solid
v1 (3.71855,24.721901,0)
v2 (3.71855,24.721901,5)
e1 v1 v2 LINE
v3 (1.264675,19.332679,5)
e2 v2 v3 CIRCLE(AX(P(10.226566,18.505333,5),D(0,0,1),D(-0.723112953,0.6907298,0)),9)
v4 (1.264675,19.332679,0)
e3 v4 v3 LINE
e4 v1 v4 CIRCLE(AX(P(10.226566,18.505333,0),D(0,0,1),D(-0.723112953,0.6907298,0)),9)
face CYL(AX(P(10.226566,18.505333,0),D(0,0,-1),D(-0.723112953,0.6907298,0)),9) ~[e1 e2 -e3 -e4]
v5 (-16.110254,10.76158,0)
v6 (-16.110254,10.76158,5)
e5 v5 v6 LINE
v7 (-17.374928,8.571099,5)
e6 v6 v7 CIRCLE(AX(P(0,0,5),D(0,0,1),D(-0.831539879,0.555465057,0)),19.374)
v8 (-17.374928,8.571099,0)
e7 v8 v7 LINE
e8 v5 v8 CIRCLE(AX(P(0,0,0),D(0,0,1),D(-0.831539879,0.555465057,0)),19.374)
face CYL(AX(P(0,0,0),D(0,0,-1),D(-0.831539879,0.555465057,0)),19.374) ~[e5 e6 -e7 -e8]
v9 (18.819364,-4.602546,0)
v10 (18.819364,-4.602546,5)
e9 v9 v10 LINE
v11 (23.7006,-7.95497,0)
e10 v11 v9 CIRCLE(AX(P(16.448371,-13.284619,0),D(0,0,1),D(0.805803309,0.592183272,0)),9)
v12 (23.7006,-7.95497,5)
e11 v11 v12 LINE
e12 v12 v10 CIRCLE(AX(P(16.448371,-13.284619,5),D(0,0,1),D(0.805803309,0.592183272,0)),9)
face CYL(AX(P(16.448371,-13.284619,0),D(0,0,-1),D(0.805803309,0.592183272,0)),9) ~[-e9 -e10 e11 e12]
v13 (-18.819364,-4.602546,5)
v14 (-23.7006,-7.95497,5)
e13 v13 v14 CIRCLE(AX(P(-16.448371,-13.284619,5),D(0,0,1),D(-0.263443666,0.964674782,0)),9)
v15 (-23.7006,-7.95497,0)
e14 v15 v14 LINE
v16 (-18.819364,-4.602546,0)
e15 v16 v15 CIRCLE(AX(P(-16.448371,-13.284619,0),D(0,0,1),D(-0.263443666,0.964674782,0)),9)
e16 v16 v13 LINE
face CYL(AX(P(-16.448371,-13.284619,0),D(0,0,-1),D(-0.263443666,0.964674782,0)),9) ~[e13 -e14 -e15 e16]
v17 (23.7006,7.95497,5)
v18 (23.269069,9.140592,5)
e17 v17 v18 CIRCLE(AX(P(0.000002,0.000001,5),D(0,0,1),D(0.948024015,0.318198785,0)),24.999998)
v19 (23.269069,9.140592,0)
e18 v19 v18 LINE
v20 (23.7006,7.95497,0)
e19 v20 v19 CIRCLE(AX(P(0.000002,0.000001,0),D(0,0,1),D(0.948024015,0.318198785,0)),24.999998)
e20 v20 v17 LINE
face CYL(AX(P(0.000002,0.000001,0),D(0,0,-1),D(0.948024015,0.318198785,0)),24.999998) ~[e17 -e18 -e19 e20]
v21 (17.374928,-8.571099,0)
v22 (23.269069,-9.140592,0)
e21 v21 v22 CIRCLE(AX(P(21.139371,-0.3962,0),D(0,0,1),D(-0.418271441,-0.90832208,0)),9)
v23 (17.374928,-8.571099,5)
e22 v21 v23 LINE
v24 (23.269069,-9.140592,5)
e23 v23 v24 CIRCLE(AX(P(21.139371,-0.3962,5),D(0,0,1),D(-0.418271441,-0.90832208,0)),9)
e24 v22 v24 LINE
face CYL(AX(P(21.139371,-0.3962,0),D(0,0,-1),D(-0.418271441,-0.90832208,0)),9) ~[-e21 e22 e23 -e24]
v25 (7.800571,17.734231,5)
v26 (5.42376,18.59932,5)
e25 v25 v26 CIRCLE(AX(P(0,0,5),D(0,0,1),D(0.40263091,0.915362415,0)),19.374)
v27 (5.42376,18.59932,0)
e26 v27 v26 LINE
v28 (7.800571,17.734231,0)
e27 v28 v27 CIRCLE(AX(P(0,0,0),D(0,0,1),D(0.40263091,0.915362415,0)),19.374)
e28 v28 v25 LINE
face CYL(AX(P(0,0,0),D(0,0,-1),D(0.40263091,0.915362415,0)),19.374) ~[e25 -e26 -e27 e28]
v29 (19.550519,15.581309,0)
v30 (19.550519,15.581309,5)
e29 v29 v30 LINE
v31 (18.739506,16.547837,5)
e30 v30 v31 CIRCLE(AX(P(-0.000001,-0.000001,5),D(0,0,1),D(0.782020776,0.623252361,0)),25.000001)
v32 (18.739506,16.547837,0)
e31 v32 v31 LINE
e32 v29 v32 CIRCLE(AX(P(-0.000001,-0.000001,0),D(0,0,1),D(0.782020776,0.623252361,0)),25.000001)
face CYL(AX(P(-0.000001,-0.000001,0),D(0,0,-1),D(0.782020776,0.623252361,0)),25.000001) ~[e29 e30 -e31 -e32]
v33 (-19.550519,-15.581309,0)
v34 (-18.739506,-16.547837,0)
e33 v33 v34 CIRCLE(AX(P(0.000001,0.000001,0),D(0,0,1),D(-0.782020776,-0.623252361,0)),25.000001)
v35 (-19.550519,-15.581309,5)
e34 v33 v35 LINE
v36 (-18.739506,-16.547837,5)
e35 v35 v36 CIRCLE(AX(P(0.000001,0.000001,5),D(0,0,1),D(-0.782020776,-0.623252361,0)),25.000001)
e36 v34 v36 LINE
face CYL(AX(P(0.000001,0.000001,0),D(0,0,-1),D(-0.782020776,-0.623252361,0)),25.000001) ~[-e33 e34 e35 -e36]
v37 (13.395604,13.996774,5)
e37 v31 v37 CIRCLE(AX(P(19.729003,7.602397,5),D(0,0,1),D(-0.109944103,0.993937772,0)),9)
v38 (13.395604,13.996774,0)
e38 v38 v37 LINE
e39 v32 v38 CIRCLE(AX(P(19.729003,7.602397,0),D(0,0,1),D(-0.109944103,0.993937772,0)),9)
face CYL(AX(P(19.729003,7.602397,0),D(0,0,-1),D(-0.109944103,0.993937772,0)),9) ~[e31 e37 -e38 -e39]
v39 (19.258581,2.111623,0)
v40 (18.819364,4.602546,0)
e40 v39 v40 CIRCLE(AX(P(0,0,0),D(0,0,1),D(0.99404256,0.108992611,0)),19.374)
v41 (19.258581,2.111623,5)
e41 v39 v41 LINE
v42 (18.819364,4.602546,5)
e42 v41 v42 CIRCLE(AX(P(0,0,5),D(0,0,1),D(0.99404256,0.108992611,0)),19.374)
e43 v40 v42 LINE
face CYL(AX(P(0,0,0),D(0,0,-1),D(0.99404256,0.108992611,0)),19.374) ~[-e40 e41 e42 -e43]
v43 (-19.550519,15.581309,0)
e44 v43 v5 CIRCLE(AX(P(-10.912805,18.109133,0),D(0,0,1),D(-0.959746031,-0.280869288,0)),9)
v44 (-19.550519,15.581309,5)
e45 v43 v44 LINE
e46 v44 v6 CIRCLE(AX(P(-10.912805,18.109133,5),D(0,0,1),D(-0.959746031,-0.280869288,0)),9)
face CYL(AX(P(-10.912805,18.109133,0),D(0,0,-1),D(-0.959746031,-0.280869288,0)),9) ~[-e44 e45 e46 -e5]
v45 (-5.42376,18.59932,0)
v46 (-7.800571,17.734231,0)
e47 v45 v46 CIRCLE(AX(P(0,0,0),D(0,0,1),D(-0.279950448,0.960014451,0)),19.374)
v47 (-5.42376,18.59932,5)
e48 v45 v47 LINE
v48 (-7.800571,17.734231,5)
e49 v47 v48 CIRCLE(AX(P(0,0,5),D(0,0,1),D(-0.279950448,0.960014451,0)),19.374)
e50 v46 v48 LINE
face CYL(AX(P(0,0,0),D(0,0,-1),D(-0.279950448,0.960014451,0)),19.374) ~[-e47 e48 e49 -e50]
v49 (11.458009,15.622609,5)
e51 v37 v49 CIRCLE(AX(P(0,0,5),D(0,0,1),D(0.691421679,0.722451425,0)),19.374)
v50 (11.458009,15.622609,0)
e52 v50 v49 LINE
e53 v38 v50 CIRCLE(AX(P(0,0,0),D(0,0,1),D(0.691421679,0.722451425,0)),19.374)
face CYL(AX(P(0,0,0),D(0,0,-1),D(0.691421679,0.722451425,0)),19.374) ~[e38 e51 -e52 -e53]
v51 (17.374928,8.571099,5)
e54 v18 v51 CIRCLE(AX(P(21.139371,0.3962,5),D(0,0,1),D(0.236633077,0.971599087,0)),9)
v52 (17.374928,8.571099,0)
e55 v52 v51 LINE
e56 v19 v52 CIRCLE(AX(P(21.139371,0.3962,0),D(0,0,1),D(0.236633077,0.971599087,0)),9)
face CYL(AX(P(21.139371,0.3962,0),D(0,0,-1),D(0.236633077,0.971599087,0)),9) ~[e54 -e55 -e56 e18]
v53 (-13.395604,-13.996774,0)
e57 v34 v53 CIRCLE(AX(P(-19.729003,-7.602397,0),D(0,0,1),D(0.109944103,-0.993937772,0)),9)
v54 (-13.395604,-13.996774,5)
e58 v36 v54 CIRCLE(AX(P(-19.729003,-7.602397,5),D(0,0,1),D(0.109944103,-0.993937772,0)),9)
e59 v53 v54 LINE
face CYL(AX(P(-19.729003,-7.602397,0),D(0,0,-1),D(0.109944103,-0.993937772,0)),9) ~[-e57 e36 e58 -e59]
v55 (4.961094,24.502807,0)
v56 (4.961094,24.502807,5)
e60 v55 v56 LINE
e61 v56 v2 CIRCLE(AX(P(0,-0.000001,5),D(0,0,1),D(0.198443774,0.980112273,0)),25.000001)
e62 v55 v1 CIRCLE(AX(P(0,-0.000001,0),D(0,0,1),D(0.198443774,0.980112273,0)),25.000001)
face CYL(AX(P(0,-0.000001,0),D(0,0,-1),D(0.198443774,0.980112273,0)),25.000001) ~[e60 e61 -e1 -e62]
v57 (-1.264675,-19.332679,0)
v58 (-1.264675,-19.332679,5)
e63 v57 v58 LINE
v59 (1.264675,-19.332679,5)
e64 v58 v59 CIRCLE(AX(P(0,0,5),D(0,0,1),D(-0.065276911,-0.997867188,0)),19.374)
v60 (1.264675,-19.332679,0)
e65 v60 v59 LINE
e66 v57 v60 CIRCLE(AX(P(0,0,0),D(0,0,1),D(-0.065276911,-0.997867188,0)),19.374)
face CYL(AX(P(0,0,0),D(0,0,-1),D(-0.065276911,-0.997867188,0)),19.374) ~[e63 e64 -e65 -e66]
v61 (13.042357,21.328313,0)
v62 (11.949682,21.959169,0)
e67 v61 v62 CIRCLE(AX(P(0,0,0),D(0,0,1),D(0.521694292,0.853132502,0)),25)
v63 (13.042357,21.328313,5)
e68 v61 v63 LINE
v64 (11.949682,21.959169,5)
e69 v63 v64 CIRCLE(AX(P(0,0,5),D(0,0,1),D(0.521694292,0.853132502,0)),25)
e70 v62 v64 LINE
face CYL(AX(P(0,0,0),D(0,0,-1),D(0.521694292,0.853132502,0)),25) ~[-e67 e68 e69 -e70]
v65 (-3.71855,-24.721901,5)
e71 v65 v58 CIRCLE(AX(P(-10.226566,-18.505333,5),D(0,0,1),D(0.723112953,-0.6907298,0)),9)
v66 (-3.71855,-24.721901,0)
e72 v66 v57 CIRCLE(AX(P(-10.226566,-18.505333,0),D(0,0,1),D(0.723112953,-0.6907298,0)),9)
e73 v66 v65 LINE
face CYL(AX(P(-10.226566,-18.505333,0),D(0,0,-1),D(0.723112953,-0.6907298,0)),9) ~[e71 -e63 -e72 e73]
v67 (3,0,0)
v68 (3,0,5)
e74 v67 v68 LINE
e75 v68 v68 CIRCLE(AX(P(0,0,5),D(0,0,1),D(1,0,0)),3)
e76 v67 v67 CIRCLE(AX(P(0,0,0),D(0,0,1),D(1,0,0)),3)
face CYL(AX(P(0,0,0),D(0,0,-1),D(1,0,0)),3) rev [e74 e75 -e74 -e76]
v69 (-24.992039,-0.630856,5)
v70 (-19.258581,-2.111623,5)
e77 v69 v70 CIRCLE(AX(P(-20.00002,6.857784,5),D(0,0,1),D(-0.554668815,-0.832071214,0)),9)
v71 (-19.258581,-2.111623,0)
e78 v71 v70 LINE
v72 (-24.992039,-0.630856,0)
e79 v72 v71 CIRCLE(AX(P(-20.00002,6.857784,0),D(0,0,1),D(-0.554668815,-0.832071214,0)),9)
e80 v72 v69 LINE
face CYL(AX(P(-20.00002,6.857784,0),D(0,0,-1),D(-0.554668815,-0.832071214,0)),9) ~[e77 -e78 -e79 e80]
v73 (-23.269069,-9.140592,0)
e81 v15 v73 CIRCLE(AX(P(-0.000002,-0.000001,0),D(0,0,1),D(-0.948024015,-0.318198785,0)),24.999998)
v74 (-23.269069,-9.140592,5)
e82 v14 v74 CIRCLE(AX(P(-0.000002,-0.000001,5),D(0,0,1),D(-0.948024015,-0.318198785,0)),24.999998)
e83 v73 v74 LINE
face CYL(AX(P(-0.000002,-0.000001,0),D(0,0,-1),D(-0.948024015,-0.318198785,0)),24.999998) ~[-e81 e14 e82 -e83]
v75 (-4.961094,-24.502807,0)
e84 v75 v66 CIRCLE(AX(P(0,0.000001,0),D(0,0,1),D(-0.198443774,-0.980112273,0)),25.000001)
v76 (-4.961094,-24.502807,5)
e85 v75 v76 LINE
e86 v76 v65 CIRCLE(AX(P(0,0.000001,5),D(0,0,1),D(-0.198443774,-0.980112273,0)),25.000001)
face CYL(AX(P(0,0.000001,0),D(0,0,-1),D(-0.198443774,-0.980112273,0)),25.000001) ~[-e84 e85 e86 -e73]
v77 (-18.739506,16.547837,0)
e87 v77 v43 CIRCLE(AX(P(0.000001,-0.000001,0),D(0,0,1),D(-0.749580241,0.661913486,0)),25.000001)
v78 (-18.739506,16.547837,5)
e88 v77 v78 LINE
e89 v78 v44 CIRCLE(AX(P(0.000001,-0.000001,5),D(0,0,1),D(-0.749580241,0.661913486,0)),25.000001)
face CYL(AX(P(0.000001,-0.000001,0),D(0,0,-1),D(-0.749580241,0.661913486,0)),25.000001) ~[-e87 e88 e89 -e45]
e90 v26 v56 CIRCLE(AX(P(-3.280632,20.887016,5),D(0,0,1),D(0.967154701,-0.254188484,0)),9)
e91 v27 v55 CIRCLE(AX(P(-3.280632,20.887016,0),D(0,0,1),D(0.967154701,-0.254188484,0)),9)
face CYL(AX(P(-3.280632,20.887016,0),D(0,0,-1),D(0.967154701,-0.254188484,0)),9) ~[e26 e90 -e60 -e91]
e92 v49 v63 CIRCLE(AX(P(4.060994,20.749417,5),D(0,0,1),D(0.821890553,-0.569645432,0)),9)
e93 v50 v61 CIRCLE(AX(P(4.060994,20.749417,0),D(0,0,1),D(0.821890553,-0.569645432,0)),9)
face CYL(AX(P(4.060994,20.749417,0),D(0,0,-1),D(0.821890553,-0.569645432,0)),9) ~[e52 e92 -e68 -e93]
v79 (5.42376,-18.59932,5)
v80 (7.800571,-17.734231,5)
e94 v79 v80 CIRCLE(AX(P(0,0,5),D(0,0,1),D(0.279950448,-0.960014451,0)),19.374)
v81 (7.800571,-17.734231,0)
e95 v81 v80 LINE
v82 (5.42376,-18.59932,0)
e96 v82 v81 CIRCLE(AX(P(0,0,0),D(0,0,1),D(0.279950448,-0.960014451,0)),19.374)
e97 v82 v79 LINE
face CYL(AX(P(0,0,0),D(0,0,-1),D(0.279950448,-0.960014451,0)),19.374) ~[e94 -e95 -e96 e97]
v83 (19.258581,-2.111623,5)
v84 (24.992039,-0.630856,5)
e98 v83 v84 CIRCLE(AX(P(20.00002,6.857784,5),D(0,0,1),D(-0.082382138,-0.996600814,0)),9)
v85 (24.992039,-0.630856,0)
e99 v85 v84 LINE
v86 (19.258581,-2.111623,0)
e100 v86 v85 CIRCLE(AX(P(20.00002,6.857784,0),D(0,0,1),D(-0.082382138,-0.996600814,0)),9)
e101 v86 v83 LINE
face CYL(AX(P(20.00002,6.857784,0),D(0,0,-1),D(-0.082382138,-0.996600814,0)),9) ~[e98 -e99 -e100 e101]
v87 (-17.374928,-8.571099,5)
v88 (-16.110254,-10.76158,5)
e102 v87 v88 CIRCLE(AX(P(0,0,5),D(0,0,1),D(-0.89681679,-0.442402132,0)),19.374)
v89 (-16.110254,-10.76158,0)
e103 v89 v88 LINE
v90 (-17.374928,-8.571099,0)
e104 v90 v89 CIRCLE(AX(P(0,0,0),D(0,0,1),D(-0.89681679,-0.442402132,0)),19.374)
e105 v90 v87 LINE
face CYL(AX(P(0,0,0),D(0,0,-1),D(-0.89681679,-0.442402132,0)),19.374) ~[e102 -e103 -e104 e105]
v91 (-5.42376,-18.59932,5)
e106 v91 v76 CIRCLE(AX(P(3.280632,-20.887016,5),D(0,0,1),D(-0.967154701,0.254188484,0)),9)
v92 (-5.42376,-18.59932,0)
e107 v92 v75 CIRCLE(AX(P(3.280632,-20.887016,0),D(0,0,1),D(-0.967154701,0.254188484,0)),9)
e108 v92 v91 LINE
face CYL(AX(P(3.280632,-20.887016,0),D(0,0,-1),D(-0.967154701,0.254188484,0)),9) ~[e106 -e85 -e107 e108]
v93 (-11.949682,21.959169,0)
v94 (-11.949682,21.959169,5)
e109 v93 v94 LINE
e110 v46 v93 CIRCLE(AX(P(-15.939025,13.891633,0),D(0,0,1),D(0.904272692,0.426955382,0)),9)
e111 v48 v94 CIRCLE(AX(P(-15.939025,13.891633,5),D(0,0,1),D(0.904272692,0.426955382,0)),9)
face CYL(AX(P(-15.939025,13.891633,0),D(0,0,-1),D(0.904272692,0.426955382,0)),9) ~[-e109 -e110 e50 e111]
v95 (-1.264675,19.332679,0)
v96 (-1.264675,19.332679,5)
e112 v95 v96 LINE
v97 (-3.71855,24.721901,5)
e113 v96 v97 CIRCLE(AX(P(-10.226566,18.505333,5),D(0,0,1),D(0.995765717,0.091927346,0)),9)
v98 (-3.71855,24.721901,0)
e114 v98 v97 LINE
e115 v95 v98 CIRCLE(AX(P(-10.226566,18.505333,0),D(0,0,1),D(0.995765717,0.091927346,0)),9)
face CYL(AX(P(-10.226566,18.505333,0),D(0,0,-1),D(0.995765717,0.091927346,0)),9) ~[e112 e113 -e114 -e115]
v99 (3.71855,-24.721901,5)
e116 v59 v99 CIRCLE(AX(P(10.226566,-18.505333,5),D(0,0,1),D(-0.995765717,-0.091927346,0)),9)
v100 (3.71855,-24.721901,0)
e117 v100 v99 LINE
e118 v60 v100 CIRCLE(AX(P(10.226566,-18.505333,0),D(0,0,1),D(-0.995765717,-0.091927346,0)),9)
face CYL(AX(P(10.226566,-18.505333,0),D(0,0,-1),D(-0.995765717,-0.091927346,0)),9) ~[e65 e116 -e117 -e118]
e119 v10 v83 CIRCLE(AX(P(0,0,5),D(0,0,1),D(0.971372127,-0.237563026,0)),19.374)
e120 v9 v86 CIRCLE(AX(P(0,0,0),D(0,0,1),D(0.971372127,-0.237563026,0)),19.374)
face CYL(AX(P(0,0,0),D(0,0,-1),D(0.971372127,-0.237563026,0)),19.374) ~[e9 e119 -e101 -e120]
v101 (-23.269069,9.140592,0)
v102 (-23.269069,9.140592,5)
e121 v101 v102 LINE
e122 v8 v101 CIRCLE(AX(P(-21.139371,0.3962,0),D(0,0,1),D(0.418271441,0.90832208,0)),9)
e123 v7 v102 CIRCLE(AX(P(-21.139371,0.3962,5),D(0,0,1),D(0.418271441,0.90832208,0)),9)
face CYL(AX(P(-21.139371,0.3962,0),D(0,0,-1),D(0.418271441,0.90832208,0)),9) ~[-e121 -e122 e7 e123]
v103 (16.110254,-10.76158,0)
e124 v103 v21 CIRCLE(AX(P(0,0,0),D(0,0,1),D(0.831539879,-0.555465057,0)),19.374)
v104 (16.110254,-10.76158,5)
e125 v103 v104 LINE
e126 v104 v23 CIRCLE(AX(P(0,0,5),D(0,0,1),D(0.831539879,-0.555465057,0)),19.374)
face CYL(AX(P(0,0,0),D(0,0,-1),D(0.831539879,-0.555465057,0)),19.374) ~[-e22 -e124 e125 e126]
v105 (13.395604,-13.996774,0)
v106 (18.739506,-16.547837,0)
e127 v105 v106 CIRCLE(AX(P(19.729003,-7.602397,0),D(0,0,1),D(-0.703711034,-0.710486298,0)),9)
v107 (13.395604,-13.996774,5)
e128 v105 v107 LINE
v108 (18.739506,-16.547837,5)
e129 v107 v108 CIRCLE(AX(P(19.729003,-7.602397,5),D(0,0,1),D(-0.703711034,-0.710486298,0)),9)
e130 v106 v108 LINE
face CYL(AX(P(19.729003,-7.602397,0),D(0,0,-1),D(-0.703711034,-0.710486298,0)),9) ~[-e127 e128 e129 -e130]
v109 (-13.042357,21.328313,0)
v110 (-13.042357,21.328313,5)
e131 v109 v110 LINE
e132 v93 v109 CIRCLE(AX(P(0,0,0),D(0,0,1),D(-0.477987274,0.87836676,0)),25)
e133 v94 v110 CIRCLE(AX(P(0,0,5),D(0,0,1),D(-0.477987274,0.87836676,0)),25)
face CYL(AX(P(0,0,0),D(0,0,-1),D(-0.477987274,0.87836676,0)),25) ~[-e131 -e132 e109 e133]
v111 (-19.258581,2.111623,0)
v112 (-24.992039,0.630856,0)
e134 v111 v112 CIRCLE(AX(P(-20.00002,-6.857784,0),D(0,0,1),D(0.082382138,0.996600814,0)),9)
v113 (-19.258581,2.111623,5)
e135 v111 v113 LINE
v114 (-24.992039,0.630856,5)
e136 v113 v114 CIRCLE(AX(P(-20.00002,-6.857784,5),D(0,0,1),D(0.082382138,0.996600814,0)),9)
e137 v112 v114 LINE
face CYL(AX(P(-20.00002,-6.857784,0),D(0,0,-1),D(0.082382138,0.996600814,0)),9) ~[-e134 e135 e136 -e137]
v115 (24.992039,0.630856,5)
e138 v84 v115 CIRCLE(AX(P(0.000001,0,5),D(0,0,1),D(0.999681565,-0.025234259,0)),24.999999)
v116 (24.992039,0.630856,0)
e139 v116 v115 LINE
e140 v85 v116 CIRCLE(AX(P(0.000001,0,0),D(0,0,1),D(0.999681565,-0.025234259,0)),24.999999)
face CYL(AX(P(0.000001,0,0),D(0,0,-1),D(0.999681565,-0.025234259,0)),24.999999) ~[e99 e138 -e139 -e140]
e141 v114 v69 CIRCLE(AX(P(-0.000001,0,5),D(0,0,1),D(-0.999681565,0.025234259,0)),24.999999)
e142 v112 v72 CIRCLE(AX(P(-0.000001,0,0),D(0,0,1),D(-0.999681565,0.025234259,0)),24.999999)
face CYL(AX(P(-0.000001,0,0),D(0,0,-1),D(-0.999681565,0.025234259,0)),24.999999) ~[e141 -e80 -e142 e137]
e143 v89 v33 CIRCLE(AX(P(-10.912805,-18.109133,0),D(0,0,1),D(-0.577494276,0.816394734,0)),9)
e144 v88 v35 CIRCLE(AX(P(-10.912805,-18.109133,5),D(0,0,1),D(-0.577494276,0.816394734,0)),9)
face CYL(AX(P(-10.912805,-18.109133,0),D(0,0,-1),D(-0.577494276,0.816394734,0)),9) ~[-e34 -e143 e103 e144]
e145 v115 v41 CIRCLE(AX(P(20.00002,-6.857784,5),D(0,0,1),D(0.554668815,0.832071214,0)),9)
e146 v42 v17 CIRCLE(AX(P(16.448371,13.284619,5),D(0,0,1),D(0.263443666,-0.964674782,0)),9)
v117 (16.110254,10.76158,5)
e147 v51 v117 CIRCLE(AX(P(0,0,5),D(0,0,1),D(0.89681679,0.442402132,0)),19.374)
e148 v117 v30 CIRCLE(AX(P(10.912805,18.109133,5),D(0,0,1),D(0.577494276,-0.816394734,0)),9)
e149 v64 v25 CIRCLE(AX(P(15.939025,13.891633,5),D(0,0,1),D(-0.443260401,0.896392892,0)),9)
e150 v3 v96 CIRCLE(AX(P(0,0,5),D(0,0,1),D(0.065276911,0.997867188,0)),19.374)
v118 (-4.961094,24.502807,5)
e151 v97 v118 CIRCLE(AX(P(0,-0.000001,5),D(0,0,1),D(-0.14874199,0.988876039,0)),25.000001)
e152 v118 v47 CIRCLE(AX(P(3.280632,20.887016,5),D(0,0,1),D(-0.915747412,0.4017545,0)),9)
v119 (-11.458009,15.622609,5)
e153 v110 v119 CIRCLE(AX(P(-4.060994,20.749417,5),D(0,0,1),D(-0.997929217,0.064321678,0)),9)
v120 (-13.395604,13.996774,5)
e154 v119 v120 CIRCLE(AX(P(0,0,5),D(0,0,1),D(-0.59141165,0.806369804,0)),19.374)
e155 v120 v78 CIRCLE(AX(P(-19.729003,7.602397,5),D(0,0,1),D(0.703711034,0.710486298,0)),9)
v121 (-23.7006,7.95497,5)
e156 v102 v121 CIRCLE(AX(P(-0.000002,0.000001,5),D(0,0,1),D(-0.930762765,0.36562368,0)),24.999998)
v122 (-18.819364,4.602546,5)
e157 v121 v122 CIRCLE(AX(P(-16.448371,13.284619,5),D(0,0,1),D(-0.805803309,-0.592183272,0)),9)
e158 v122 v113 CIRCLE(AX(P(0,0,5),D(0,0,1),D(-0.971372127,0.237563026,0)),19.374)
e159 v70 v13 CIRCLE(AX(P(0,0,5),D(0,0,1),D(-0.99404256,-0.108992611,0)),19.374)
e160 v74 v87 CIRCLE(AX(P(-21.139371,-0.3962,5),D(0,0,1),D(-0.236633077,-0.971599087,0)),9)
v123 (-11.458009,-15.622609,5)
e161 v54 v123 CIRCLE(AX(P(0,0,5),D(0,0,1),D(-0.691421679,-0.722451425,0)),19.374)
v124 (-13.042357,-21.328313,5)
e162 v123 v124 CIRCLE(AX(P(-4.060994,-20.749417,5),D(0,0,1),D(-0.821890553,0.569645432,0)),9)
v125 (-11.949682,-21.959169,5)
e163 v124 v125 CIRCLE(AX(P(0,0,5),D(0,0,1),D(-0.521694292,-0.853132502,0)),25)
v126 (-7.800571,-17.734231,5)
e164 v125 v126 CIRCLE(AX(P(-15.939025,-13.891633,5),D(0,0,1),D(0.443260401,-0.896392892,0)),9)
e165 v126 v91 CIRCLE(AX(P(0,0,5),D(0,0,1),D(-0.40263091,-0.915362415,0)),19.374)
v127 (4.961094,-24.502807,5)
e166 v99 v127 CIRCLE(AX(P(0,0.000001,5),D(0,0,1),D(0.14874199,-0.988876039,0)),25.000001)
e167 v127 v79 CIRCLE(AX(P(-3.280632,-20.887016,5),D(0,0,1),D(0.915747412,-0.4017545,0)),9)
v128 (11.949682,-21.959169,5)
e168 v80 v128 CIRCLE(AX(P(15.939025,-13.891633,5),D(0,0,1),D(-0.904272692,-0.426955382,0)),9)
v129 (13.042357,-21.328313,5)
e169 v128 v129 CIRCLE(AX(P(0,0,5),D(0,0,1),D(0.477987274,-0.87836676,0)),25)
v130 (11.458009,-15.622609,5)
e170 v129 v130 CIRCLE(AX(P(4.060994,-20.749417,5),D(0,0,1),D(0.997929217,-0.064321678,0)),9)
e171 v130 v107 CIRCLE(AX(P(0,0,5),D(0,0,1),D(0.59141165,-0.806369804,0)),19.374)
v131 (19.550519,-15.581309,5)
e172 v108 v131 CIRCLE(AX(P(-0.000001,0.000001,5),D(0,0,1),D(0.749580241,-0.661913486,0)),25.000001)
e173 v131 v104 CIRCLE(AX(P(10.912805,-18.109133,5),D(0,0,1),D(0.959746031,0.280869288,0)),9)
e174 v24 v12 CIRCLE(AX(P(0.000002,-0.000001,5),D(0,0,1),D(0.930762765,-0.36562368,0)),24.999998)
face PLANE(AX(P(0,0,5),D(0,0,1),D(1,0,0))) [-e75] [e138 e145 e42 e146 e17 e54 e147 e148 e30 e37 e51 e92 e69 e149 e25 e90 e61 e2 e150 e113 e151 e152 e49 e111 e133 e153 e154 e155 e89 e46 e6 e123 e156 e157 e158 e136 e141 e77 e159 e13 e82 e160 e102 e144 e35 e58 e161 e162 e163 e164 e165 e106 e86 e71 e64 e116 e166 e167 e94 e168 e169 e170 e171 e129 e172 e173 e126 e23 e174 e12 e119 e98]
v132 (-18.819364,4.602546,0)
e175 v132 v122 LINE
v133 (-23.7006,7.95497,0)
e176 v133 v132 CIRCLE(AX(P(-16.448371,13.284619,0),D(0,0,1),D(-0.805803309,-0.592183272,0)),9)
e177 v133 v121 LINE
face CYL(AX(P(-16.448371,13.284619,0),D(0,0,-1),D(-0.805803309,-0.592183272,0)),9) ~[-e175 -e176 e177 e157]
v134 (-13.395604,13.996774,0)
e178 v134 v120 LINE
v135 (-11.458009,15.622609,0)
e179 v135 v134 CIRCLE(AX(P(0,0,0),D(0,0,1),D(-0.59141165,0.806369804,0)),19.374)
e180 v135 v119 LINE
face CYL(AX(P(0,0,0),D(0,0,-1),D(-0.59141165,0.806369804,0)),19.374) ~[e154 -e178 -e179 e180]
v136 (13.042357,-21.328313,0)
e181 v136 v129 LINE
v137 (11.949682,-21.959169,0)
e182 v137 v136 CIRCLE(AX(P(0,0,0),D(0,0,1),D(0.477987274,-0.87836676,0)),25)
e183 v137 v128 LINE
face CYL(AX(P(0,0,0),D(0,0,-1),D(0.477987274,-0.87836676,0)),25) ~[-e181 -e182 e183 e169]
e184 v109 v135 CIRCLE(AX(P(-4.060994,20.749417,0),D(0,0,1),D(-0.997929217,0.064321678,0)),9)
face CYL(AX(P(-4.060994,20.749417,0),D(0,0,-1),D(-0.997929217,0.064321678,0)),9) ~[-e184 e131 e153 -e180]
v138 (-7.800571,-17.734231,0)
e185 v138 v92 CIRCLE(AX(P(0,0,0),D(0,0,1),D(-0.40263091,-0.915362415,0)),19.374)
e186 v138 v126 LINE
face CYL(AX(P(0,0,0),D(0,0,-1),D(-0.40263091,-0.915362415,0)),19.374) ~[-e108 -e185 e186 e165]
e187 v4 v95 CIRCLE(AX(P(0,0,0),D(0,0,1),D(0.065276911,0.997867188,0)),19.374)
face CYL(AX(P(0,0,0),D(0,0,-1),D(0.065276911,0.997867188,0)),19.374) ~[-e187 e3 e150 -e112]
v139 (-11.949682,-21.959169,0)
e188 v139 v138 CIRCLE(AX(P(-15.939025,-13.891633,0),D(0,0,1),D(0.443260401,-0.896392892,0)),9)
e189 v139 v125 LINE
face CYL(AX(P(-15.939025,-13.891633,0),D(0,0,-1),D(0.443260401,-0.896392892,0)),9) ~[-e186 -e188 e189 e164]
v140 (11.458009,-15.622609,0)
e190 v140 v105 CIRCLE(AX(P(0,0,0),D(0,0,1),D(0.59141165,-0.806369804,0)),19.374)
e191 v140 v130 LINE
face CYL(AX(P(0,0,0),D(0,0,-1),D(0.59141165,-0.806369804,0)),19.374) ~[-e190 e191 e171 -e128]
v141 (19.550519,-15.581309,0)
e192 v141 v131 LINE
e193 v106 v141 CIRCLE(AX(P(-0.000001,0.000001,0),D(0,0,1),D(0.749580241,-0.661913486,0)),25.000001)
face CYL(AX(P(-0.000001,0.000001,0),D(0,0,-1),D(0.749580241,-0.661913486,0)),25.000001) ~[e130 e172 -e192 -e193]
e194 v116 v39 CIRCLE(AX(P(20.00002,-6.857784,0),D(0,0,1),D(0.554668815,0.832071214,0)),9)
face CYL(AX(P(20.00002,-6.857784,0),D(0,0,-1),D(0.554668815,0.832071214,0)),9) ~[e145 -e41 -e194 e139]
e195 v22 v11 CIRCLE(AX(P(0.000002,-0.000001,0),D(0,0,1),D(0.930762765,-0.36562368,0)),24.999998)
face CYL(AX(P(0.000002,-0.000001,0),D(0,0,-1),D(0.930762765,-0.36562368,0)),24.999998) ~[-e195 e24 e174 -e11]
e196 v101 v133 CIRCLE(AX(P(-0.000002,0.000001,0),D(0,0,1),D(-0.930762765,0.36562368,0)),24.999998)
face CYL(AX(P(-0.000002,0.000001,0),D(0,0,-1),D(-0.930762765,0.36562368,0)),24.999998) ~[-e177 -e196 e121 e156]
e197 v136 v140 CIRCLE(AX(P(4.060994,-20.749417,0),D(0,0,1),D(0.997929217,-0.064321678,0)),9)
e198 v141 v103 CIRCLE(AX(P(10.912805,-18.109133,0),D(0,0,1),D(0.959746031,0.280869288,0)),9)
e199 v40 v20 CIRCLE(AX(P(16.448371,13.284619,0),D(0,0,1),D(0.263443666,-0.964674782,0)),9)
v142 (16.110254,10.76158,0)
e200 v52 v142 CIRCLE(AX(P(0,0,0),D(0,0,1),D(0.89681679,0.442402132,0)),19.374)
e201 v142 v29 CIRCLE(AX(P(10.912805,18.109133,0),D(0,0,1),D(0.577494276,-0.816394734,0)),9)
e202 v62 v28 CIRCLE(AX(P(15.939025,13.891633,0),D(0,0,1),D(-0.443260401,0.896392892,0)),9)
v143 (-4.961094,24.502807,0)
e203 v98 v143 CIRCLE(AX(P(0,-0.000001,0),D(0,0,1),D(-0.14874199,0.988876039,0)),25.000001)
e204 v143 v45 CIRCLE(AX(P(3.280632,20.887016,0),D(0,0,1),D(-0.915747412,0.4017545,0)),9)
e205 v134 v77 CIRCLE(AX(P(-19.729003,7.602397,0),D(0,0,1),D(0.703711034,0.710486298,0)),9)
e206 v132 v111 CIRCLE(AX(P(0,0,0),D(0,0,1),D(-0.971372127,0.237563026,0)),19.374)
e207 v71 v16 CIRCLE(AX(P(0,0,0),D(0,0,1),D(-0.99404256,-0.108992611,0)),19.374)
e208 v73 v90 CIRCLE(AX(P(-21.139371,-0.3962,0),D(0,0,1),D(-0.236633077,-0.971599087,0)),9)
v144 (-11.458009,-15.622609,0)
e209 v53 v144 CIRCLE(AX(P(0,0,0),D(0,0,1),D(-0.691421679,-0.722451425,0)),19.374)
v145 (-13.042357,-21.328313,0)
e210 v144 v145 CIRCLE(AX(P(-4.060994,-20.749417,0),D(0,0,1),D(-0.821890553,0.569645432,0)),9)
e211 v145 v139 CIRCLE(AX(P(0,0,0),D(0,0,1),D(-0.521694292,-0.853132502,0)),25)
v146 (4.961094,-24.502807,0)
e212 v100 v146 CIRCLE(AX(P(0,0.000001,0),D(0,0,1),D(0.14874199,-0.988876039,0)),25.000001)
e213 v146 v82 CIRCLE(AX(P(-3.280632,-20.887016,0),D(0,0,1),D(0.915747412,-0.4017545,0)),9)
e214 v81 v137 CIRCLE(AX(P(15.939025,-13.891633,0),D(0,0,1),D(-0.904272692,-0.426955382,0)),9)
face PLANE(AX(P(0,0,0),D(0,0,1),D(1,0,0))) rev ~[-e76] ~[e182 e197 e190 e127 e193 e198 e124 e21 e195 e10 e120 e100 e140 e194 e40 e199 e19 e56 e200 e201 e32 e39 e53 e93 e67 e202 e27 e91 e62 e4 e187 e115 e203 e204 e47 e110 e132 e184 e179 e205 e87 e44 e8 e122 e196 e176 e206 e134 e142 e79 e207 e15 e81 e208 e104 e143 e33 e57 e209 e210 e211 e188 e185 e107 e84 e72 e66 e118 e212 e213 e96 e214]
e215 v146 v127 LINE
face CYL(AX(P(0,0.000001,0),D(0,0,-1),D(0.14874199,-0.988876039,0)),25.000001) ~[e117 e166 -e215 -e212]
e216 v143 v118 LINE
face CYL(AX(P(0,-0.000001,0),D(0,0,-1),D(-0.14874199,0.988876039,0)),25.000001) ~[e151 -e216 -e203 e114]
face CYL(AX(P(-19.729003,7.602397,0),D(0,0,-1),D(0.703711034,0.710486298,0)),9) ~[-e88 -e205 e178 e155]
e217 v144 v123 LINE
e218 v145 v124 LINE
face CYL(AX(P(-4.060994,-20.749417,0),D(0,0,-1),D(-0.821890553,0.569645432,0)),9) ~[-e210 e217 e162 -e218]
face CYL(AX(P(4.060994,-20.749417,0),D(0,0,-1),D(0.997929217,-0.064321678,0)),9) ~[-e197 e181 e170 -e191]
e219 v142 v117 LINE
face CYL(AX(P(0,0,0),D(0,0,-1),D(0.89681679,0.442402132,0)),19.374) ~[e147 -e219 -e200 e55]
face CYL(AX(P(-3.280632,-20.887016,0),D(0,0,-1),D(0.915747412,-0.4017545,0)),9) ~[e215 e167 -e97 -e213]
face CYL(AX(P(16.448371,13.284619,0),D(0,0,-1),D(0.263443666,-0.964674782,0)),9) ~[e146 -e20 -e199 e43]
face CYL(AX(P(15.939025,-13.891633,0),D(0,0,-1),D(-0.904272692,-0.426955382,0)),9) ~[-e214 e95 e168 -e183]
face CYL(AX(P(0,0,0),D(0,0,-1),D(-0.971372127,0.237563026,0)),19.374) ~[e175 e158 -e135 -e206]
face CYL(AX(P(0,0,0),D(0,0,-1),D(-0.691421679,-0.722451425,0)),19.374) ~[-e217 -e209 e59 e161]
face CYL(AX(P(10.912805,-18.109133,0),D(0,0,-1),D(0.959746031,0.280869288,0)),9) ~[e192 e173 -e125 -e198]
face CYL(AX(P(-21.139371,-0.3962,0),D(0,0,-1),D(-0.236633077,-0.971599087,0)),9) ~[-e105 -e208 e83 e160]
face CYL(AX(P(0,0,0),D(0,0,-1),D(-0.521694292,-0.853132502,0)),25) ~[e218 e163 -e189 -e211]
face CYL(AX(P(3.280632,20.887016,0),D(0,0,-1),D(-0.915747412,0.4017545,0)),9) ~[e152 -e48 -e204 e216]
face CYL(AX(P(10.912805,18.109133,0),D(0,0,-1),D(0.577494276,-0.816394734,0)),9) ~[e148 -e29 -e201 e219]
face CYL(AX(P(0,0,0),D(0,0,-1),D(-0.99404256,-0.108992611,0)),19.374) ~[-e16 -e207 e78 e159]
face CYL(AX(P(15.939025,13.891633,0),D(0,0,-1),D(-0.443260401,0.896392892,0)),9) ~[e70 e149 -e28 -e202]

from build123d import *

# Parameters (mm, degrees)
SKETCH1_R           = 3
BOSS_EXTRUDE2_DEPTH = 5


with BuildPart() as part:
    # Sketch1 → Boss-Extrude2 (new body)
    with BuildSketch(Plane.XY):
        with BuildLine():
            ThreePointArc((-19.550519413, 15.581309017), (-18.238129642, 12.880402273), (-16.110253623, 10.761580005))
            ThreePointArc((-16.110253623, 10.761580005), (-16.778376173, 9.687), (-17.374928481, 8.571098896))
            ThreePointArc((-17.374928481, 8.571098896), (-20.2738204, 9.354482451), (-23.269069139, 9.14059196))
            ThreePointArc((-23.269069139, 9.14059196), (-23.49231552, 8.550503583), (-23.700600368, 7.954969654))
            ThreePointArc((-23.700600368, 7.954969654), (-21.543592873, 5.865811255), (-18.819363584, 4.602546066))
            ThreePointArc((-18.819363584, 4.602546066), (-19.079665407, 3.364259794), (-19.258580553, 2.111622855))
            ThreePointArc((-19.258580553, 2.111622855), (-22.250580854, 1.856283171), (-24.992039135, 0.630856452))
            ThreePointArc((-24.992039135, 0.630856452), (-25, 0), (-24.992039135, -0.630856452))
            ThreePointArc((-24.992039135, -0.630856452), (-22.250580854, -1.856283171), (-19.258580553, -2.111622855))
            ThreePointArc((-19.258580553, -2.111622855), (-19.079665407, -3.364259794), (-18.819363584, -4.602546066))
            ThreePointArc((-18.819363584, -4.602546066), (-21.543592873, -5.865811255), (-23.700600368, -7.954969654))
            ThreePointArc((-23.700600368, -7.954969654), (-23.49231552, -8.550503583), (-23.269069139, -9.14059196))
            ThreePointArc((-23.269069139, -9.14059196), (-20.2738204, -9.354482451), (-17.374928481, -8.571098896))
            ThreePointArc((-17.374928481, -8.571098896), (-16.778376173, -9.687), (-16.110253623, -10.761580005))
            ThreePointArc((-16.110253623, -10.761580005), (-18.238129642, -12.880402273), (-19.550519413, -15.581309017))
            ThreePointArc((-19.550519413, -15.581309017), (-19.151111078, -16.069690242), (-18.739505991, -16.547837177))
            ThreePointArc((-18.739505991, -16.547837177), (-15.851737997, -15.724393089), (-13.395603607, -13.996773914))
            ThreePointArc((-13.395603607, -13.996773914), (-12.45336715, -14.841345041), (-11.458009312, -15.622608572))
            ThreePointArc((-11.458009312, -15.622608572), (-12.73287881, -18.341426683), (-13.042357282, -21.328312557))
            ThreePointArc((-13.042357282, -21.328312557), (-12.5, -21.650635095), (-11.949681854, -21.95916901))
            ThreePointArc((-11.949681854, -21.95916901), (-9.517702044, -20.197709854), (-7.800571241, -17.734231427))
            ThreePointArc((-7.800571241, -17.734231427), (-6.626298257, -18.205604835), (-5.423759977, -18.59931998))
            ThreePointArc((-5.423759977, -18.59931998), (-5.691854876, -21.590204344), (-4.961094377, -24.502806831))
            ThreePointArc((-4.961094377, -24.502806831), (-4.341204442, -24.620193825), (-3.718549727, -24.721900977))
            ThreePointArc((-3.718549727, -24.721900977), (-2.035690758, -22.234884724), (-1.264674858, -19.332678901))
            ThreePointArc((-1.264674858, -19.332678901), (0, -19.374), (1.264674858, -19.332678901))
            ThreePointArc((1.264674858, -19.332678901), (2.035690758, -22.234884724), (3.718549727, -24.721900977))
            ThreePointArc((3.718549727, -24.721900977), (4.341204442, -24.620193825), (4.961094377, -24.502806831))
            ThreePointArc((4.961094377, -24.502806831), (5.691854876, -21.590204344), (5.423759977, -18.59931998))
            ThreePointArc((5.423759977, -18.59931998), (6.626298257, -18.205604835), (7.800571241, -17.734231427))
            ThreePointArc((7.800571241, -17.734231427), (9.517702044, -20.197709854), (11.949681854, -21.95916901))
            ThreePointArc((11.949681854, -21.95916901), (12.5, -21.650635095), (13.042357282, -21.328312557))
            ThreePointArc((13.042357282, -21.328312557), (12.73287881, -18.341426683), (11.458009312, -15.622608572))
            ThreePointArc((11.458009312, -15.622608572), (12.45336715, -14.841345041), (13.395603607, -13.996773914))
            ThreePointArc((13.395603607, -13.996773914), (15.851737997, -15.724393089), (18.739505991, -16.547837177))
            ThreePointArc((18.739505991, -16.547837177), (19.151111078, -16.069690242), (19.550519413, -15.581309017))
            ThreePointArc((19.550519413, -15.581309017), (18.238129642, -12.880402273), (16.110253623, -10.761580005))
            ThreePointArc((16.110253623, -10.761580005), (16.778376173, -9.687), (17.374928481, -8.571098896))
            ThreePointArc((17.374928481, -8.571098896), (20.2738204, -9.354482451), (23.269069139, -9.14059196))
            ThreePointArc((23.269069139, -9.14059196), (23.49231552, -8.550503583), (23.700600368, -7.954969654))
            ThreePointArc((23.700600368, -7.954969654), (21.543592873, -5.865811255), (18.819363584, -4.602546066))
            ThreePointArc((18.819363584, -4.602546066), (19.079665407, -3.364259794), (19.258580553, -2.111622855))
            ThreePointArc((19.258580553, -2.111622855), (22.250580854, -1.856283171), (24.992039135, -0.630856452))
            ThreePointArc((24.992039135, -0.630856452), (25, 0), (24.992039135, 0.630856452))
            ThreePointArc((24.992039135, 0.630856452), (22.250580854, 1.856283171), (19.258580553, 2.111622855))
            ThreePointArc((19.258580553, 2.111622855), (19.079665407, 3.364259794), (18.819363584, 4.602546066))
            ThreePointArc((18.819363584, 4.602546066), (21.543592873, 5.865811255), (23.700600368, 7.954969654))
            ThreePointArc((23.700600368, 7.954969654), (23.49231552, 8.550503583), (23.269069139, 9.14059196))
            ThreePointArc((23.269069139, 9.14059196), (20.2738204, 9.354482451), (17.374928481, 8.571098896))
            ThreePointArc((17.374928481, 8.571098896), (16.778376173, 9.687), (16.110253623, 10.761580005))
            ThreePointArc((16.110253623, 10.761580005), (18.238129642, 12.880402273), (19.550519413, 15.581309017))
            ThreePointArc((19.550519413, 15.581309017), (19.151111078, 16.069690242), (18.739505991, 16.547837177))
            ThreePointArc((18.739505991, 16.547837177), (15.851737997, 15.724393089), (13.395603607, 13.996773914))
            ThreePointArc((13.395603607, 13.996773914), (12.45336715, 14.841345041), (11.458009312, 15.622608572))
            ThreePointArc((11.458009312, 15.622608572), (12.73287881, 18.341426683), (13.042357282, 21.328312557))
            ThreePointArc((13.042357282, 21.328312557), (12.5, 21.650635095), (11.949681854, 21.95916901))
            ThreePointArc((11.949681854, 21.95916901), (9.517702044, 20.197709854), (7.800571241, 17.734231427))
            ThreePointArc((7.800571241, 17.734231427), (6.626298257, 18.205604835), (5.423759977, 18.59931998))
            ThreePointArc((5.423759977, 18.59931998), (5.691854876, 21.590204344), (4.961094377, 24.502806831))
            ThreePointArc((4.961094377, 24.502806831), (4.341204442, 24.620193825), (3.718549727, 24.721900977))
            ThreePointArc((3.718549727, 24.721900977), (2.035690758, 22.234884724), (1.264674858, 19.332678901))
            ThreePointArc((1.264674858, 19.332678901), (0, 19.374), (-1.264674858, 19.332678901))
            ThreePointArc((-1.264674858, 19.332678901), (-2.035690758, 22.234884724), (-3.718549727, 24.721900977))
            ThreePointArc((-3.718549727, 24.721900977), (-4.341204442, 24.620193825), (-4.961094377, 24.502806831))
            ThreePointArc((-4.961094377, 24.502806831), (-5.691854876, 21.590204344), (-5.423759977, 18.59931998))
            ThreePointArc((-5.423759977, 18.59931998), (-6.626298257, 18.205604835), (-7.800571241, 17.734231427))
            ThreePointArc((-7.800571241, 17.734231427), (-9.517702044, 20.197709854), (-11.949681854, 21.95916901))
            ThreePointArc((-11.949681854, 21.95916901), (-12.5, 21.650635095), (-13.042357282, 21.328312557))
            ThreePointArc((-13.042357282, 21.328312557), (-12.73287881, 18.341426683), (-11.458009312, 15.622608572))
            ThreePointArc((-11.458009312, 15.622608572), (-12.45336715, 14.841345041), (-13.395603607, 13.996773914))
            ThreePointArc((-13.395603607, 13.996773914), (-15.851737997, 15.724393089), (-18.739505991, 16.547837177))
            ThreePointArc((-18.739505991, 16.547837177), (-19.151111078, 16.069690242), (-19.550519413, 15.581309017))
        make_face()
        Circle(SKETCH1_R, mode=Mode.SUBTRACT)
    extrude(amount=BOSS_EXTRUDE2_DEPTH)


solid = part.part
